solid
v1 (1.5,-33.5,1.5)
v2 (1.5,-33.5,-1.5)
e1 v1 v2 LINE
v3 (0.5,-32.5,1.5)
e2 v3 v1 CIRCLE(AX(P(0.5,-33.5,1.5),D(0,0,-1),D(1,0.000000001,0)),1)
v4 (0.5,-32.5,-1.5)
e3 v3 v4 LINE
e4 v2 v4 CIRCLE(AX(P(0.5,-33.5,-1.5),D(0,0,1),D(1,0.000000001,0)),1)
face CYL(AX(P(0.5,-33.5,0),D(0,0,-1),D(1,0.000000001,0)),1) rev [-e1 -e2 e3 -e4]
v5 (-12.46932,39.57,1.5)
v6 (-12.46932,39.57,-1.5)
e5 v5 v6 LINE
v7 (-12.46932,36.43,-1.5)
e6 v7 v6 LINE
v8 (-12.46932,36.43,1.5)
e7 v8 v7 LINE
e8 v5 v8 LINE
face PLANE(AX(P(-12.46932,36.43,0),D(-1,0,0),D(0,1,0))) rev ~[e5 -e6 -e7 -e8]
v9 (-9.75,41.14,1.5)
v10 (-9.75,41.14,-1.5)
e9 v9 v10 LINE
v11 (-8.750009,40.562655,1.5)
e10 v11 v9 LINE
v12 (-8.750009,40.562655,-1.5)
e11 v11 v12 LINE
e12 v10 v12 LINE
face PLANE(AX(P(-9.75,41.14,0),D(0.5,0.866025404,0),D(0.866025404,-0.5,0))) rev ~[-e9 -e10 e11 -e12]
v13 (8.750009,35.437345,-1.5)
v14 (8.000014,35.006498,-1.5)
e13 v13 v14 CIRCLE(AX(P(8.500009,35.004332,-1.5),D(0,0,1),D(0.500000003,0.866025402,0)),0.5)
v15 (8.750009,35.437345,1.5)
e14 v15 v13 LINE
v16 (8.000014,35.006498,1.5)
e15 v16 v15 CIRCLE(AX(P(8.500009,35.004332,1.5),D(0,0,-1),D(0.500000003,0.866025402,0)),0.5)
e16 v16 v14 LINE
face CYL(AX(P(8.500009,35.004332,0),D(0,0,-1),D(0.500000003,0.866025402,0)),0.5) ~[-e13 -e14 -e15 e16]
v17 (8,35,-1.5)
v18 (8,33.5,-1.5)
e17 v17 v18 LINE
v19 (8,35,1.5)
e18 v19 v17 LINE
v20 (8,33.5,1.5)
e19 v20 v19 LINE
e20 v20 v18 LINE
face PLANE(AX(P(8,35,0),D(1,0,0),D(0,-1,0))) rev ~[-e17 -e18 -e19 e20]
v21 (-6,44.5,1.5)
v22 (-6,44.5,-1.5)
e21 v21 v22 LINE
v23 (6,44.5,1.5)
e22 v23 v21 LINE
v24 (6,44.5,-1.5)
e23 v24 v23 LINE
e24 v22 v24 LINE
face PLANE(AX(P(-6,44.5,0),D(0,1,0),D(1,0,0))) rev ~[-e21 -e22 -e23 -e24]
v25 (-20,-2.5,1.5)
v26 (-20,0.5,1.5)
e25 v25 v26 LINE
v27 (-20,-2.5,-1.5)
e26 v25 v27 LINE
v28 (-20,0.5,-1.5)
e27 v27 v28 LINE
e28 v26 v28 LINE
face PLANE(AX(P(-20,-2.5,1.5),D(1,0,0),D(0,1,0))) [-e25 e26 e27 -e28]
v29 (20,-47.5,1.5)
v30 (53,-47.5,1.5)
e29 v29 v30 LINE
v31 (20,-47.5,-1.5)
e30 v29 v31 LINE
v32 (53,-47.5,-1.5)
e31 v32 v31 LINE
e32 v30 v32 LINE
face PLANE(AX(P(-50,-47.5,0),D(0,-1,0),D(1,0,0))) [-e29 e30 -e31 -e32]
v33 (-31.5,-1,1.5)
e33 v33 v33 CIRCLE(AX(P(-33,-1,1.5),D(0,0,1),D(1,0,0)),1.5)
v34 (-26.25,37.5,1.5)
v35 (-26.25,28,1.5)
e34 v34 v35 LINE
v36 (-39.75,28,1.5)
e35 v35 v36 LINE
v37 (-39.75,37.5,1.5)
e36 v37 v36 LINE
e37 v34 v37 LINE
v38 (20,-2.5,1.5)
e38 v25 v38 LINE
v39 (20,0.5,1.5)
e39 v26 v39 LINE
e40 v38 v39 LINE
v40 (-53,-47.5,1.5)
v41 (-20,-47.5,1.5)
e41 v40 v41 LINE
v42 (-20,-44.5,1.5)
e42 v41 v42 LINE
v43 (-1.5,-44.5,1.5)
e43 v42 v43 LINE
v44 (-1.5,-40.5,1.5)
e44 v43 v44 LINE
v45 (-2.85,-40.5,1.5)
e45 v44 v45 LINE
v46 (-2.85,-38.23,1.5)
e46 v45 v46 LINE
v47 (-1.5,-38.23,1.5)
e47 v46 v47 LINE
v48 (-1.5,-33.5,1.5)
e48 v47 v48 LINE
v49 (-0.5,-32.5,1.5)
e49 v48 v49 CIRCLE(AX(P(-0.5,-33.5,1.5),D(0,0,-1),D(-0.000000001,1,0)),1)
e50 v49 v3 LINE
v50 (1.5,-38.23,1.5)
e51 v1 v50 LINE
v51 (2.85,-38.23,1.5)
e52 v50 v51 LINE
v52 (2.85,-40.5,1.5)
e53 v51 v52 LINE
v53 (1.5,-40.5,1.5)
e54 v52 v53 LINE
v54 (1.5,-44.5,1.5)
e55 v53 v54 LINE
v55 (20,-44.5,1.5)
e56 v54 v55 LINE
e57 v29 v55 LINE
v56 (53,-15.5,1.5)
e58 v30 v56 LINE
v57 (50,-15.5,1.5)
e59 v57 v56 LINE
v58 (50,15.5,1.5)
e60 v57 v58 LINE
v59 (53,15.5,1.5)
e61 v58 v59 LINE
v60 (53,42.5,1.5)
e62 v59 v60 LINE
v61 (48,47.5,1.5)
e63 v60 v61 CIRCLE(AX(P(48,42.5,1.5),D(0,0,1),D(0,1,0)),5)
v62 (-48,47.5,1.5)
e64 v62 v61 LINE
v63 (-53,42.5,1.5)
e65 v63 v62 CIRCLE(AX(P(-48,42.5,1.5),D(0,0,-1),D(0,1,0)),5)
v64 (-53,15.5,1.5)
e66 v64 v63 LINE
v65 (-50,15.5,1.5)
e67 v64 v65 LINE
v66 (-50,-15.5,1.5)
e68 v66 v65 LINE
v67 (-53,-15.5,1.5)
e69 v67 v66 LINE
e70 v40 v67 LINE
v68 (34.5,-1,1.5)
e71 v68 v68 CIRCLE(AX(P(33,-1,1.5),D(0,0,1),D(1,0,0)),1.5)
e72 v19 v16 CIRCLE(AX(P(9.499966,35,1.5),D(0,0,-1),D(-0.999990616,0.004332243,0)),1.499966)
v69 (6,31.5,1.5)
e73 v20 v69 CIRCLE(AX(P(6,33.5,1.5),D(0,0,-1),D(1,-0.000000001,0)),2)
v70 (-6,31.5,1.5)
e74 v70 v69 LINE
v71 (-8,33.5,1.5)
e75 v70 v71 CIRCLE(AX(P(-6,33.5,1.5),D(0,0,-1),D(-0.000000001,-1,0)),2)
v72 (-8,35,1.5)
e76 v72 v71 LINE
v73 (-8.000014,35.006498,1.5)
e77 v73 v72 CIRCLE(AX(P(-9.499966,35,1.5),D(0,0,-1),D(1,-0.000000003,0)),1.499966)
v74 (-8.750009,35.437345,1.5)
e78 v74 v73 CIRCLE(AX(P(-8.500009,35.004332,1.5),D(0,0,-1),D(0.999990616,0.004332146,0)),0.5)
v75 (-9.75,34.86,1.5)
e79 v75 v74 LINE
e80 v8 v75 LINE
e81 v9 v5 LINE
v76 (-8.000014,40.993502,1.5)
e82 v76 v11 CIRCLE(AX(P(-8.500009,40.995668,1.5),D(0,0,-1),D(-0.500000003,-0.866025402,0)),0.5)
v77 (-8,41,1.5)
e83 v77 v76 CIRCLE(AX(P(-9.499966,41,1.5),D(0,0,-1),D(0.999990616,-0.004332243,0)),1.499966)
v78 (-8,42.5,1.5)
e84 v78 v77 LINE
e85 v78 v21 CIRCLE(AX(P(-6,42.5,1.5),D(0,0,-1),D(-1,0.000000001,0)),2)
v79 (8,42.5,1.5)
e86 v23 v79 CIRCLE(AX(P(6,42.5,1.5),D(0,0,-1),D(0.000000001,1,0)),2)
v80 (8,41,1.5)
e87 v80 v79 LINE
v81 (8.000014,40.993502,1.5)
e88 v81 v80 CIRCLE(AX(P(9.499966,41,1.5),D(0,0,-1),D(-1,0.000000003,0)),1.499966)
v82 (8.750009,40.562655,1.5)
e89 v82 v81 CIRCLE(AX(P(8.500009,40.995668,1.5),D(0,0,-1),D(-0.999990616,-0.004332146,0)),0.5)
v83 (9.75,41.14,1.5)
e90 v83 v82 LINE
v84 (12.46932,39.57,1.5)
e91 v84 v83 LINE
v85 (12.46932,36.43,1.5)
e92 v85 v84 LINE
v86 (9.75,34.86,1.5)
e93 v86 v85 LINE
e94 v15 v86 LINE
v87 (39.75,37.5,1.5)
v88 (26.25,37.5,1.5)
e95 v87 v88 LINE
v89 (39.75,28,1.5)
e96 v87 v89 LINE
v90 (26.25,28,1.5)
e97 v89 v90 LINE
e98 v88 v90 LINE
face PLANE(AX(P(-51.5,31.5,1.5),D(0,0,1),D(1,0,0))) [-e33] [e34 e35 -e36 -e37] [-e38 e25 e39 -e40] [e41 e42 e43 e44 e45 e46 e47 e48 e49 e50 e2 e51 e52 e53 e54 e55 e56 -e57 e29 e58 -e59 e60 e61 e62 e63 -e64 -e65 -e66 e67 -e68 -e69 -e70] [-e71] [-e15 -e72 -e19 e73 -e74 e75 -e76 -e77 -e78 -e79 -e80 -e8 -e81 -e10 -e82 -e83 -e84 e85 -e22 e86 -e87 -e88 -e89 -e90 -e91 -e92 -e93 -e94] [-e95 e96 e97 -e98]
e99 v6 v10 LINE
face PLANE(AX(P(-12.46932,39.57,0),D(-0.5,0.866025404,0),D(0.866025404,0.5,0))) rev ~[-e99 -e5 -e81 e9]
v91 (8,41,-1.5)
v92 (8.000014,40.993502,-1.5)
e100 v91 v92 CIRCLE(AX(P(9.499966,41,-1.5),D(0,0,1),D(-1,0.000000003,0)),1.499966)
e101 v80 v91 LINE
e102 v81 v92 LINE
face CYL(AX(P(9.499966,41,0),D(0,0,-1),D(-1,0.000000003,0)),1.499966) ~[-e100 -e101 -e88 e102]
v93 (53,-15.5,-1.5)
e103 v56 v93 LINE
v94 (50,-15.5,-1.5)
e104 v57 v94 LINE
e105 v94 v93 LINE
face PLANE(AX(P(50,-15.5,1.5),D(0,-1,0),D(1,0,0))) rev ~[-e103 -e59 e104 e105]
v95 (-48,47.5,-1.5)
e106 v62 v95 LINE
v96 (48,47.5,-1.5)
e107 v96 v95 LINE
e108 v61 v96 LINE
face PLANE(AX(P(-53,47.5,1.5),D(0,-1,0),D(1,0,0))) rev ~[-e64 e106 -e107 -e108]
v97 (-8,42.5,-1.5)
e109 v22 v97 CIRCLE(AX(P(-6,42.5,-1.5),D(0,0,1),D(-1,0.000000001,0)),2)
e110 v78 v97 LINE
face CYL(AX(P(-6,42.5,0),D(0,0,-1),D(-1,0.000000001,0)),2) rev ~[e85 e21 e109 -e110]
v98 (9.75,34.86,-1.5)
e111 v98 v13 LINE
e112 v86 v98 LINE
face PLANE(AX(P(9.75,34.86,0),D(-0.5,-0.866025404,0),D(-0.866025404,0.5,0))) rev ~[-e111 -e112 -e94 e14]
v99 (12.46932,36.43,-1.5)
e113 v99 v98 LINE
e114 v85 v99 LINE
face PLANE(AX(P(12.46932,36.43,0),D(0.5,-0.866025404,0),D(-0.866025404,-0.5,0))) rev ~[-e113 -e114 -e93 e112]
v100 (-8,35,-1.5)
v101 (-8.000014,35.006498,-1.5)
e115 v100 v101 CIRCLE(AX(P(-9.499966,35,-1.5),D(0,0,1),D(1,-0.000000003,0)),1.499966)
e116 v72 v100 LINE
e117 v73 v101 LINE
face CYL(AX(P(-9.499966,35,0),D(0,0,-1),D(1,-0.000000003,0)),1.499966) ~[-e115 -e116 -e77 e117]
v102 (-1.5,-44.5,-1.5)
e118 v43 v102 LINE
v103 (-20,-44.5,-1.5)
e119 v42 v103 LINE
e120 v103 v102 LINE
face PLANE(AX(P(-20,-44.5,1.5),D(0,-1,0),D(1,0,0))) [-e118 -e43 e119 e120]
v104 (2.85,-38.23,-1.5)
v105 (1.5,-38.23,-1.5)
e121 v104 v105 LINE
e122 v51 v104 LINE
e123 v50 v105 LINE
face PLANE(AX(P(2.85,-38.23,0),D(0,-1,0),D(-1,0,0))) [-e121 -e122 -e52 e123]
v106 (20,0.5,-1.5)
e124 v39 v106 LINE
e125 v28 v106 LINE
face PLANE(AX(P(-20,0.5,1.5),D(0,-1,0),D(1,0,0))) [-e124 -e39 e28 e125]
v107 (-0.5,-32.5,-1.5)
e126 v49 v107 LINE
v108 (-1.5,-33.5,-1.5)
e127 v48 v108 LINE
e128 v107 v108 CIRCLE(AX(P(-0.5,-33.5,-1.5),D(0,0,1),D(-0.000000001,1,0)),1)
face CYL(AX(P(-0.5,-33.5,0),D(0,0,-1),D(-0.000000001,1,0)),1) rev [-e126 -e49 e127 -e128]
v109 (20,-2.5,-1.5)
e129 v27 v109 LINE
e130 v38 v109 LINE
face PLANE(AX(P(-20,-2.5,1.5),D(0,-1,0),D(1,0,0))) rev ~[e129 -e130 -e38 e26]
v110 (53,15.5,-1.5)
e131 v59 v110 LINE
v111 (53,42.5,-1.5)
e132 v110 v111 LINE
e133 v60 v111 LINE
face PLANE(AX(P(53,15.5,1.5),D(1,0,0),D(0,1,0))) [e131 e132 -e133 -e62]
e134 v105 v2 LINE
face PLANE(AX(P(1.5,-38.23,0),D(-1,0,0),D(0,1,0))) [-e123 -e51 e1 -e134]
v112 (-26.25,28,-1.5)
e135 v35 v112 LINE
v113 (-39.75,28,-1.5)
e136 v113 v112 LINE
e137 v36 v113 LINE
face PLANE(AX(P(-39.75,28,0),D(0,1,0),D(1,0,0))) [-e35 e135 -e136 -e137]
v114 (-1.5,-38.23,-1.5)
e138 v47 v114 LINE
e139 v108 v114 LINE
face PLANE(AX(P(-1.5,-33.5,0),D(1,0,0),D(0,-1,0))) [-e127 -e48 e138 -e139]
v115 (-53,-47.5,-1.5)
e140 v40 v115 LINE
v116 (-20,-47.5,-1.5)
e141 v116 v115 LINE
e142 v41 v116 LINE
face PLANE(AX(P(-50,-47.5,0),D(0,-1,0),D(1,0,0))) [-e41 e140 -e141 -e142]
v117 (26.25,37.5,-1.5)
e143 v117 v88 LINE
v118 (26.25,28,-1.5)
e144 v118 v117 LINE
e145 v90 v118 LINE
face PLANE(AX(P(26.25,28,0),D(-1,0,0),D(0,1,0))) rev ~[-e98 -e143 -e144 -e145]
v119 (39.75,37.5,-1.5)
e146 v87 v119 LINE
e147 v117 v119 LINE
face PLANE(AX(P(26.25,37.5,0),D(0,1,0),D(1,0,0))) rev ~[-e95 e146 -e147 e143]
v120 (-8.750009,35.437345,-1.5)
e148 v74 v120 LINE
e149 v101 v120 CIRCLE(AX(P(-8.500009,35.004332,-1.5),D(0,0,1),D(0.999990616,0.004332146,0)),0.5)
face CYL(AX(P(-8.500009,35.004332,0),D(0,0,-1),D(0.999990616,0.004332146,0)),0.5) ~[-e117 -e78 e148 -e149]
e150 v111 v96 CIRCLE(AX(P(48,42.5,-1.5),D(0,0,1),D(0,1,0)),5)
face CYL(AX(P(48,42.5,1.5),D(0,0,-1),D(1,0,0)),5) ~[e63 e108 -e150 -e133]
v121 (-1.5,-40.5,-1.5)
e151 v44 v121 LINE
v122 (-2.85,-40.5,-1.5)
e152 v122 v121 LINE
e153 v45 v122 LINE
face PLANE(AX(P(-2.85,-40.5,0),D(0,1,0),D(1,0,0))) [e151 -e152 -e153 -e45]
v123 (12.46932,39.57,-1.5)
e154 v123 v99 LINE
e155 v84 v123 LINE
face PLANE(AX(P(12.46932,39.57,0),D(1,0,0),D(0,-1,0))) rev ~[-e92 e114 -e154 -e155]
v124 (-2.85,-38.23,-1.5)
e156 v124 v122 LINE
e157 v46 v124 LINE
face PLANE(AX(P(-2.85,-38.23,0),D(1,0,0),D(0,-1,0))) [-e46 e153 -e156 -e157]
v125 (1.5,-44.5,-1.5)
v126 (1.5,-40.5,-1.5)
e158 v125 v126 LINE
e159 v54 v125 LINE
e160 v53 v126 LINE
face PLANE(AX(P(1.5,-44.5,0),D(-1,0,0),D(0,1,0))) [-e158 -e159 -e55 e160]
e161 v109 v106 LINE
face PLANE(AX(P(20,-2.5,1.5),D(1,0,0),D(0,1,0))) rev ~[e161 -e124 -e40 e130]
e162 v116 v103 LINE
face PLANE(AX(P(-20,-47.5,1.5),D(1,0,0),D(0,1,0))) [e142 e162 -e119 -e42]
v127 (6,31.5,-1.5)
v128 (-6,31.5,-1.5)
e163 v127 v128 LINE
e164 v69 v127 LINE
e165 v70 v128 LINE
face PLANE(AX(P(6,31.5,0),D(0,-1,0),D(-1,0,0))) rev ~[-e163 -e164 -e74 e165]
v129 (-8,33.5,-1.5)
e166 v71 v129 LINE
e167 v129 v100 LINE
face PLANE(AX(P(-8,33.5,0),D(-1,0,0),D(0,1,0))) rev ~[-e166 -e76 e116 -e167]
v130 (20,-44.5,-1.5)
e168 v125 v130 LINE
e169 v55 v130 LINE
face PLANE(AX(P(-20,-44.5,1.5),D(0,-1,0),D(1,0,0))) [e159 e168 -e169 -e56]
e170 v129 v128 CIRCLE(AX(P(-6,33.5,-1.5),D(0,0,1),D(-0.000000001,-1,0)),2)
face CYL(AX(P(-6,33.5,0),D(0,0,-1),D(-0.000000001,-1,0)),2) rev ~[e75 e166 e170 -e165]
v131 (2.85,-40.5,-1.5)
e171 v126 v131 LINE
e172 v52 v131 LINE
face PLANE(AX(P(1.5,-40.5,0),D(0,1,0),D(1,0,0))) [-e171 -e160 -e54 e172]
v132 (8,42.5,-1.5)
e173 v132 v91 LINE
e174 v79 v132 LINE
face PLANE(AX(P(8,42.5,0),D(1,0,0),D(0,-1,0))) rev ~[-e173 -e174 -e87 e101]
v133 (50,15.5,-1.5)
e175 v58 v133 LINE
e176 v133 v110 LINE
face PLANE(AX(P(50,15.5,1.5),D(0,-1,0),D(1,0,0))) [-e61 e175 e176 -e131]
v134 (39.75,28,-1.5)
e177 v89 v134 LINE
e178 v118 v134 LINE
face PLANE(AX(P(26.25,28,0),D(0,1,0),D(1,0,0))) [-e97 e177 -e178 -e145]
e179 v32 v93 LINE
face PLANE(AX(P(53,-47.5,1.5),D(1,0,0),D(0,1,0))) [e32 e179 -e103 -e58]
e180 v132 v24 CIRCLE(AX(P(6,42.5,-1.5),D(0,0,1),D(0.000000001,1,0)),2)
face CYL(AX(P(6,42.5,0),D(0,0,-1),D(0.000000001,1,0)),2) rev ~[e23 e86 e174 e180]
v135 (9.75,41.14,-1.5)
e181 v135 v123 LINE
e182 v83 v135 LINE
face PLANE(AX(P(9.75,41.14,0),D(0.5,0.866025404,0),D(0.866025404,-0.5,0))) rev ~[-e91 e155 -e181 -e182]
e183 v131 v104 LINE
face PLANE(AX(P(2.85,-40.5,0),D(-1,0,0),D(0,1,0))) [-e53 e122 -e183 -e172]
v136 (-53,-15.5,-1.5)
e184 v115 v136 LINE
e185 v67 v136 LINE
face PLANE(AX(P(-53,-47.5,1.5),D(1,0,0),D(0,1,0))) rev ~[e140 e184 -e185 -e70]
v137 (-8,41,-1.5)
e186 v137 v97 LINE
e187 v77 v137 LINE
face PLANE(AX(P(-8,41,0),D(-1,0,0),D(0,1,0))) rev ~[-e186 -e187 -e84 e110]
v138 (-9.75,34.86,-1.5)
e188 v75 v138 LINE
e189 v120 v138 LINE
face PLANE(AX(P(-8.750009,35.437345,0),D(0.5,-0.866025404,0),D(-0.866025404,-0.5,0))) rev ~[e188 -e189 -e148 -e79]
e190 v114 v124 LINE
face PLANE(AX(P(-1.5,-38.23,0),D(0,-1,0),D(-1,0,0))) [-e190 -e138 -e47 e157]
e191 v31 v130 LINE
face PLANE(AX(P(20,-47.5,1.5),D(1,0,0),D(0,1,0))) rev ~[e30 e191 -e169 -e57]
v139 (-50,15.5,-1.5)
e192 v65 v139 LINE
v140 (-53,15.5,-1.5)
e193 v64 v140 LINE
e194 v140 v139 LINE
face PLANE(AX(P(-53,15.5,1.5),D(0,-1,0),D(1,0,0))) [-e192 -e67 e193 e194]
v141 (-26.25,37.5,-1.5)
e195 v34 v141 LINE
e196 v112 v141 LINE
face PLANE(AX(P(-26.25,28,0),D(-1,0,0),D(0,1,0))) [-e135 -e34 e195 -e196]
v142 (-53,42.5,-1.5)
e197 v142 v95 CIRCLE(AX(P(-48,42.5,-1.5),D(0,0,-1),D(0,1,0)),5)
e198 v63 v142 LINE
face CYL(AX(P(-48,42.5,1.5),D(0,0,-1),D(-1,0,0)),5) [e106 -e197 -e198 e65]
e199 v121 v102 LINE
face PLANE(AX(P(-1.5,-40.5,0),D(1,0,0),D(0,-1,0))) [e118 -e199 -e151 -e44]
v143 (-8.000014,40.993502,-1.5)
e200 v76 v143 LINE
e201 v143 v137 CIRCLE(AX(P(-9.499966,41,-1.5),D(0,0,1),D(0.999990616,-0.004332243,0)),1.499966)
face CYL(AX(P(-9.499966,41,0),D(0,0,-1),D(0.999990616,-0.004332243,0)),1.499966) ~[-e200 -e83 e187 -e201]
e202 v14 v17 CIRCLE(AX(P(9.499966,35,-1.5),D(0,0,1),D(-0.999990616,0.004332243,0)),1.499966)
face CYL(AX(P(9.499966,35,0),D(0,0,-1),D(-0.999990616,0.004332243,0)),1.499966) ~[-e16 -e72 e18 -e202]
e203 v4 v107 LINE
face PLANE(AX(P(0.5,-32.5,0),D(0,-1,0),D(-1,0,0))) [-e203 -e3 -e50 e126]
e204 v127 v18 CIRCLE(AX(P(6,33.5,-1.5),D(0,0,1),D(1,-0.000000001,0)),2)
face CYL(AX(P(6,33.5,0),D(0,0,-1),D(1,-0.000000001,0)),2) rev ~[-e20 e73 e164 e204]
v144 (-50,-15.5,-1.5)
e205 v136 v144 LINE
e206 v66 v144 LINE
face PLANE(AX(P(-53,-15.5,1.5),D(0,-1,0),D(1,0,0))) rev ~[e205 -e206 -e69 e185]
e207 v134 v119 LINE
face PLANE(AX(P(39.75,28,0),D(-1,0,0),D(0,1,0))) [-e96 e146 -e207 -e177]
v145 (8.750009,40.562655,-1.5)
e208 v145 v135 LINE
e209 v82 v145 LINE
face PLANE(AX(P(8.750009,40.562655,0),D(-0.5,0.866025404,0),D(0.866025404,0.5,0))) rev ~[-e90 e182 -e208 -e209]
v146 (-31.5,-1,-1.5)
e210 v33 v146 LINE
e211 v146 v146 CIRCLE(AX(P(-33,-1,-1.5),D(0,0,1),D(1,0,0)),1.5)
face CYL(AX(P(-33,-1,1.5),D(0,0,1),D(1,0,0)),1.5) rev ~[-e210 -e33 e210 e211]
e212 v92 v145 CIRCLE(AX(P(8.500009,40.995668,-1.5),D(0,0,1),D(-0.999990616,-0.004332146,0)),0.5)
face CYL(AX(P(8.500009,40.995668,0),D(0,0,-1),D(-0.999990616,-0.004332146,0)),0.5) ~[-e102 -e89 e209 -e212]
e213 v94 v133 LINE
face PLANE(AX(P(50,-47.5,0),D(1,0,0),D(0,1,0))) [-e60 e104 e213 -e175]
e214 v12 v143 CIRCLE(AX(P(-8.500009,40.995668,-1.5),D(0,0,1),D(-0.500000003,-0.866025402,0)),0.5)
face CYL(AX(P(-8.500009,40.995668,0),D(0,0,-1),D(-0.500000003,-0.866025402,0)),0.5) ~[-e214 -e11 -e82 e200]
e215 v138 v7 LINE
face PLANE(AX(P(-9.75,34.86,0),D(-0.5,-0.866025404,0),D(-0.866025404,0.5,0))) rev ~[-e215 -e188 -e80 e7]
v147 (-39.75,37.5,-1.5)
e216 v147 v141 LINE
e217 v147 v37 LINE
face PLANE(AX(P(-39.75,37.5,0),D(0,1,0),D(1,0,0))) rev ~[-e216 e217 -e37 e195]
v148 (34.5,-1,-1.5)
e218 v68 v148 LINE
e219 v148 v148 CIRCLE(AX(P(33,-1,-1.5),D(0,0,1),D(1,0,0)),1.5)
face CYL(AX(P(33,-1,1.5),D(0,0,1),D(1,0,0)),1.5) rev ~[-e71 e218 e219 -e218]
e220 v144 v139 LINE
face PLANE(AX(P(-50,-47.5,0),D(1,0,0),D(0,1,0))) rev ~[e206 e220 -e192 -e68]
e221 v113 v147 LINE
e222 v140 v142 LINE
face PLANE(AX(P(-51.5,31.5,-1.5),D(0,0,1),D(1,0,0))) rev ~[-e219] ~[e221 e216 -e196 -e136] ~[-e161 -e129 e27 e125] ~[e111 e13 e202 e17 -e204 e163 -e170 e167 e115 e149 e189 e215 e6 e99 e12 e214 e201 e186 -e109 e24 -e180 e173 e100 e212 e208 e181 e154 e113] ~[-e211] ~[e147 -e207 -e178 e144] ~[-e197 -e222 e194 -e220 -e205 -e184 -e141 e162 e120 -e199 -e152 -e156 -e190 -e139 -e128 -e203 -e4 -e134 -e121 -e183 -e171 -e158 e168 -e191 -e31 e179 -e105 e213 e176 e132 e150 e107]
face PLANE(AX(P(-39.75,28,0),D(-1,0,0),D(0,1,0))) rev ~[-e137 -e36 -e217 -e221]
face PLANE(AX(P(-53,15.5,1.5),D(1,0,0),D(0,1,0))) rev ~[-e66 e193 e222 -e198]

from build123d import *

# Parameters (mm, degrees)
ESBO_O1_W                = 100
ESBO_O1_H                = 95
RESSALTO_EXTRUS_O1_DEPTH = 1.5
ESBO_O3_W                = 3
ESBO_O3_H                = 32
RESSALTO_EXTRUS_O2_DEPTH = 3
ESBO_O2_R                = 1.5
ESBO_O2_W                = 40
ESBO_O2_H                = 3
CORTE_EXTRUS_O1_DEPTH    = 4
CUT_EXTRUDE7_DEPTH       = 2.5
CUT_EXTRUDE7_DEPTH_BACK  = 2.5
CUT_EXTRUDE5_DEPTH       = 2.5
CUT_EXTRUDE5_DEPTH_BACK  = 2.5
SKETCH7_W                = 13.5
SKETCH7_H                = 9.5
CUT_EXTRUDE6_DEPTH       = 2.5
CUT_EXTRUDE6_DEPTH_BACK  = 2.5
FILLET2_R                = 5


with BuildPart() as part:
    # Esboço1 → Ressalto-extrusão1 (new body, symmetric)
    with BuildSketch(Plane.XY):
        Rectangle(ESBO_O1_W, ESBO_O1_H)
    extrude(amount=RESSALTO_EXTRUS_O1_DEPTH, both=True)

    # Esboço3 → Ressalto-extrusão2 (add, through all)
    with BuildSketch(Plane.XY.offset(1.5)):
        with Locations((-51.5, 31.5)):
            Rectangle(ESBO_O3_W, ESBO_O3_H)
        with Locations((-51.5, -31.5)):
            Rectangle(ESBO_O3_W, ESBO_O3_H)
        with Locations((51.5, -31.5)):
            Rectangle(ESBO_O3_W, ESBO_O3_H)
        with Locations((51.5, 31.5)):
            Rectangle(ESBO_O3_W, ESBO_O3_H)
    extrude(amount=-RESSALTO_EXTRUS_O2_DEPTH)

    # Esboço2 → Corte-extrusão1 (cut, through all)
    with BuildSketch(Plane.XY.offset(1.5)):
        with Locations((-33, -1)):
            Circle(ESBO_O2_R)
        with Locations((33, -1)):
            Circle(ESBO_O2_R)
        with Locations((0, -46)):
            Rectangle(ESBO_O2_W, ESBO_O2_H)
        with Locations((0, -1)):
            Rectangle(ESBO_O2_W, ESBO_O2_H)
    extrude(amount=-CORTE_EXTRUS_O1_DEPTH, mode=Mode.SUBTRACT)

    # Sketch9 → Cut-Extrude7 (cut, two sides)
    with BuildSketch(Plane.XY) as cut_extrude7_sk:
        with BuildLine():
            Line((-1.5, -44.5), (1.5, -44.5))
            Line((1.5, -44.5), (1.5, -40.5))
            Line((1.5, -40.5), (2.85, -40.5))
            Line((2.85, -40.5), (2.85, -38.23))
            Line((2.85, -38.23), (1.5, -38.23))
            Line((1.5, -38.23), (1.5, -33.5))
            ThreePointArc((1.5, -33.5), (1.207106781, -32.792893219), (0.5, -32.5))
            Line((0.5, -32.5), (-0.5, -32.5))
            ThreePointArc((-0.5, -32.5), (-1.207106781, -32.792893219), (-1.5, -33.5))
            Line((-1.5, -33.5), (-1.5, -38.23))
            Line((-1.5, -38.23), (-2.85, -38.23))
            Line((-2.85, -38.23), (-2.85, -40.5))
            Line((-2.85, -40.5), (-1.5, -40.5))
            Line((-1.5, -40.5), (-1.5, -44.5))
        make_face()
    extrude(amount=CUT_EXTRUDE7_DEPTH, mode=Mode.SUBTRACT)
    extrude(cut_extrude7_sk.sketch, amount=-CUT_EXTRUDE7_DEPTH_BACK, mode=Mode.SUBTRACT)

    # Sketch6 → Cut-Extrude5 (cut, two sides)
    with BuildSketch(Plane.XY) as cut_extrude5_sk:
        with BuildLine():
            Line((-6, 44.5), (6, 44.5))
            ThreePointArc((6, 44.5), (7.414213562, 43.914213562), (8, 42.5))
            Line((8, 42.5), (8, 41))
            ThreePointArc((8, 41), (8.000003519, 40.99675088), (8.000014076, 40.993501776))
            ThreePointArc((8.000014076, 40.993501776), (8.25094791, 40.562114644), (8.750009384, 40.562655149))
            Line((8.750009384, 40.562655149), (9.75, 41.14))
            Line((9.75, 41.14), (12.469319768, 39.57))
            Line((12.469319768, 39.57), (12.469319768, 36.43))
            Line((12.469319768, 36.43), (9.75, 34.86))
            Line((9.75, 34.86), (8.750009384, 35.437344851))
            ThreePointArc((8.750009384, 35.437344851), (8.25094791, 35.437885356), (8.000014076, 35.006498224))
            ThreePointArc((8.000014076, 35.006498224), (8.000003519, 35.00324912), (8, 35))
            Line((8, 35), (8, 33.5))
            ThreePointArc((8, 33.5), (7.414213562, 32.085786438), (6, 31.5))
            Line((6, 31.5), (-6, 31.5))
            ThreePointArc((-6, 31.5), (-7.414213562, 32.085786438), (-8, 33.5))
            Line((-8, 33.5), (-8, 35))
            ThreePointArc((-8, 35), (-8.000003519, 35.00324912), (-8.000014076, 35.006498224))
            ThreePointArc((-8.000014076, 35.006498224), (-8.25094791, 35.437885356), (-8.750009384, 35.437344851))
            Line((-8.750009384, 35.437344851), (-9.75, 34.86))
            Line((-9.75, 34.86), (-12.469319768, 36.43))
            Line((-12.469319768, 36.43), (-12.469319768, 39.57))
            Line((-12.469319768, 39.57), (-9.75, 41.14))
            Line((-9.75, 41.14), (-8.750009384, 40.562655149))
            ThreePointArc((-8.750009384, 40.562655149), (-8.25094791, 40.562114644), (-8.000014076, 40.993501776))
            ThreePointArc((-8.000014076, 40.993501776), (-8.000003519, 40.99675088), (-8, 41))
            Line((-8, 41), (-8, 42.5))
            ThreePointArc((-8, 42.5), (-7.414213562, 43.914213562), (-6, 44.5))
        make_face()
    extrude(amount=CUT_EXTRUDE5_DEPTH, mode=Mode.SUBTRACT)
    extrude(cut_extrude5_sk.sketch, amount=-CUT_EXTRUDE5_DEPTH_BACK, mode=Mode.SUBTRACT)

    # Sketch7 → Cut-Extrude6 (cut, two sides)
    with BuildSketch(Plane.XY) as cut_extrude6_sk:
        with Locations((-33, 32.75)):
            Rectangle(SKETCH7_W, SKETCH7_H)
        with Locations((33, 32.75)):
            Rectangle(SKETCH7_W, SKETCH7_H)
    extrude(amount=CUT_EXTRUDE6_DEPTH, mode=Mode.SUBTRACT)
    extrude(cut_extrude6_sk.sketch, amount=-CUT_EXTRUDE6_DEPTH_BACK, mode=Mode.SUBTRACT)

    # Fillet2
    fillet2_edges = [part.edges().sort_by_distance(p)[0] for p in [
        (-53, 47.5, 0),
        (53, 47.5, 0),
    ]]
    fillet(fillet2_edges, radius=FILLET2_R)


solid = part.part
